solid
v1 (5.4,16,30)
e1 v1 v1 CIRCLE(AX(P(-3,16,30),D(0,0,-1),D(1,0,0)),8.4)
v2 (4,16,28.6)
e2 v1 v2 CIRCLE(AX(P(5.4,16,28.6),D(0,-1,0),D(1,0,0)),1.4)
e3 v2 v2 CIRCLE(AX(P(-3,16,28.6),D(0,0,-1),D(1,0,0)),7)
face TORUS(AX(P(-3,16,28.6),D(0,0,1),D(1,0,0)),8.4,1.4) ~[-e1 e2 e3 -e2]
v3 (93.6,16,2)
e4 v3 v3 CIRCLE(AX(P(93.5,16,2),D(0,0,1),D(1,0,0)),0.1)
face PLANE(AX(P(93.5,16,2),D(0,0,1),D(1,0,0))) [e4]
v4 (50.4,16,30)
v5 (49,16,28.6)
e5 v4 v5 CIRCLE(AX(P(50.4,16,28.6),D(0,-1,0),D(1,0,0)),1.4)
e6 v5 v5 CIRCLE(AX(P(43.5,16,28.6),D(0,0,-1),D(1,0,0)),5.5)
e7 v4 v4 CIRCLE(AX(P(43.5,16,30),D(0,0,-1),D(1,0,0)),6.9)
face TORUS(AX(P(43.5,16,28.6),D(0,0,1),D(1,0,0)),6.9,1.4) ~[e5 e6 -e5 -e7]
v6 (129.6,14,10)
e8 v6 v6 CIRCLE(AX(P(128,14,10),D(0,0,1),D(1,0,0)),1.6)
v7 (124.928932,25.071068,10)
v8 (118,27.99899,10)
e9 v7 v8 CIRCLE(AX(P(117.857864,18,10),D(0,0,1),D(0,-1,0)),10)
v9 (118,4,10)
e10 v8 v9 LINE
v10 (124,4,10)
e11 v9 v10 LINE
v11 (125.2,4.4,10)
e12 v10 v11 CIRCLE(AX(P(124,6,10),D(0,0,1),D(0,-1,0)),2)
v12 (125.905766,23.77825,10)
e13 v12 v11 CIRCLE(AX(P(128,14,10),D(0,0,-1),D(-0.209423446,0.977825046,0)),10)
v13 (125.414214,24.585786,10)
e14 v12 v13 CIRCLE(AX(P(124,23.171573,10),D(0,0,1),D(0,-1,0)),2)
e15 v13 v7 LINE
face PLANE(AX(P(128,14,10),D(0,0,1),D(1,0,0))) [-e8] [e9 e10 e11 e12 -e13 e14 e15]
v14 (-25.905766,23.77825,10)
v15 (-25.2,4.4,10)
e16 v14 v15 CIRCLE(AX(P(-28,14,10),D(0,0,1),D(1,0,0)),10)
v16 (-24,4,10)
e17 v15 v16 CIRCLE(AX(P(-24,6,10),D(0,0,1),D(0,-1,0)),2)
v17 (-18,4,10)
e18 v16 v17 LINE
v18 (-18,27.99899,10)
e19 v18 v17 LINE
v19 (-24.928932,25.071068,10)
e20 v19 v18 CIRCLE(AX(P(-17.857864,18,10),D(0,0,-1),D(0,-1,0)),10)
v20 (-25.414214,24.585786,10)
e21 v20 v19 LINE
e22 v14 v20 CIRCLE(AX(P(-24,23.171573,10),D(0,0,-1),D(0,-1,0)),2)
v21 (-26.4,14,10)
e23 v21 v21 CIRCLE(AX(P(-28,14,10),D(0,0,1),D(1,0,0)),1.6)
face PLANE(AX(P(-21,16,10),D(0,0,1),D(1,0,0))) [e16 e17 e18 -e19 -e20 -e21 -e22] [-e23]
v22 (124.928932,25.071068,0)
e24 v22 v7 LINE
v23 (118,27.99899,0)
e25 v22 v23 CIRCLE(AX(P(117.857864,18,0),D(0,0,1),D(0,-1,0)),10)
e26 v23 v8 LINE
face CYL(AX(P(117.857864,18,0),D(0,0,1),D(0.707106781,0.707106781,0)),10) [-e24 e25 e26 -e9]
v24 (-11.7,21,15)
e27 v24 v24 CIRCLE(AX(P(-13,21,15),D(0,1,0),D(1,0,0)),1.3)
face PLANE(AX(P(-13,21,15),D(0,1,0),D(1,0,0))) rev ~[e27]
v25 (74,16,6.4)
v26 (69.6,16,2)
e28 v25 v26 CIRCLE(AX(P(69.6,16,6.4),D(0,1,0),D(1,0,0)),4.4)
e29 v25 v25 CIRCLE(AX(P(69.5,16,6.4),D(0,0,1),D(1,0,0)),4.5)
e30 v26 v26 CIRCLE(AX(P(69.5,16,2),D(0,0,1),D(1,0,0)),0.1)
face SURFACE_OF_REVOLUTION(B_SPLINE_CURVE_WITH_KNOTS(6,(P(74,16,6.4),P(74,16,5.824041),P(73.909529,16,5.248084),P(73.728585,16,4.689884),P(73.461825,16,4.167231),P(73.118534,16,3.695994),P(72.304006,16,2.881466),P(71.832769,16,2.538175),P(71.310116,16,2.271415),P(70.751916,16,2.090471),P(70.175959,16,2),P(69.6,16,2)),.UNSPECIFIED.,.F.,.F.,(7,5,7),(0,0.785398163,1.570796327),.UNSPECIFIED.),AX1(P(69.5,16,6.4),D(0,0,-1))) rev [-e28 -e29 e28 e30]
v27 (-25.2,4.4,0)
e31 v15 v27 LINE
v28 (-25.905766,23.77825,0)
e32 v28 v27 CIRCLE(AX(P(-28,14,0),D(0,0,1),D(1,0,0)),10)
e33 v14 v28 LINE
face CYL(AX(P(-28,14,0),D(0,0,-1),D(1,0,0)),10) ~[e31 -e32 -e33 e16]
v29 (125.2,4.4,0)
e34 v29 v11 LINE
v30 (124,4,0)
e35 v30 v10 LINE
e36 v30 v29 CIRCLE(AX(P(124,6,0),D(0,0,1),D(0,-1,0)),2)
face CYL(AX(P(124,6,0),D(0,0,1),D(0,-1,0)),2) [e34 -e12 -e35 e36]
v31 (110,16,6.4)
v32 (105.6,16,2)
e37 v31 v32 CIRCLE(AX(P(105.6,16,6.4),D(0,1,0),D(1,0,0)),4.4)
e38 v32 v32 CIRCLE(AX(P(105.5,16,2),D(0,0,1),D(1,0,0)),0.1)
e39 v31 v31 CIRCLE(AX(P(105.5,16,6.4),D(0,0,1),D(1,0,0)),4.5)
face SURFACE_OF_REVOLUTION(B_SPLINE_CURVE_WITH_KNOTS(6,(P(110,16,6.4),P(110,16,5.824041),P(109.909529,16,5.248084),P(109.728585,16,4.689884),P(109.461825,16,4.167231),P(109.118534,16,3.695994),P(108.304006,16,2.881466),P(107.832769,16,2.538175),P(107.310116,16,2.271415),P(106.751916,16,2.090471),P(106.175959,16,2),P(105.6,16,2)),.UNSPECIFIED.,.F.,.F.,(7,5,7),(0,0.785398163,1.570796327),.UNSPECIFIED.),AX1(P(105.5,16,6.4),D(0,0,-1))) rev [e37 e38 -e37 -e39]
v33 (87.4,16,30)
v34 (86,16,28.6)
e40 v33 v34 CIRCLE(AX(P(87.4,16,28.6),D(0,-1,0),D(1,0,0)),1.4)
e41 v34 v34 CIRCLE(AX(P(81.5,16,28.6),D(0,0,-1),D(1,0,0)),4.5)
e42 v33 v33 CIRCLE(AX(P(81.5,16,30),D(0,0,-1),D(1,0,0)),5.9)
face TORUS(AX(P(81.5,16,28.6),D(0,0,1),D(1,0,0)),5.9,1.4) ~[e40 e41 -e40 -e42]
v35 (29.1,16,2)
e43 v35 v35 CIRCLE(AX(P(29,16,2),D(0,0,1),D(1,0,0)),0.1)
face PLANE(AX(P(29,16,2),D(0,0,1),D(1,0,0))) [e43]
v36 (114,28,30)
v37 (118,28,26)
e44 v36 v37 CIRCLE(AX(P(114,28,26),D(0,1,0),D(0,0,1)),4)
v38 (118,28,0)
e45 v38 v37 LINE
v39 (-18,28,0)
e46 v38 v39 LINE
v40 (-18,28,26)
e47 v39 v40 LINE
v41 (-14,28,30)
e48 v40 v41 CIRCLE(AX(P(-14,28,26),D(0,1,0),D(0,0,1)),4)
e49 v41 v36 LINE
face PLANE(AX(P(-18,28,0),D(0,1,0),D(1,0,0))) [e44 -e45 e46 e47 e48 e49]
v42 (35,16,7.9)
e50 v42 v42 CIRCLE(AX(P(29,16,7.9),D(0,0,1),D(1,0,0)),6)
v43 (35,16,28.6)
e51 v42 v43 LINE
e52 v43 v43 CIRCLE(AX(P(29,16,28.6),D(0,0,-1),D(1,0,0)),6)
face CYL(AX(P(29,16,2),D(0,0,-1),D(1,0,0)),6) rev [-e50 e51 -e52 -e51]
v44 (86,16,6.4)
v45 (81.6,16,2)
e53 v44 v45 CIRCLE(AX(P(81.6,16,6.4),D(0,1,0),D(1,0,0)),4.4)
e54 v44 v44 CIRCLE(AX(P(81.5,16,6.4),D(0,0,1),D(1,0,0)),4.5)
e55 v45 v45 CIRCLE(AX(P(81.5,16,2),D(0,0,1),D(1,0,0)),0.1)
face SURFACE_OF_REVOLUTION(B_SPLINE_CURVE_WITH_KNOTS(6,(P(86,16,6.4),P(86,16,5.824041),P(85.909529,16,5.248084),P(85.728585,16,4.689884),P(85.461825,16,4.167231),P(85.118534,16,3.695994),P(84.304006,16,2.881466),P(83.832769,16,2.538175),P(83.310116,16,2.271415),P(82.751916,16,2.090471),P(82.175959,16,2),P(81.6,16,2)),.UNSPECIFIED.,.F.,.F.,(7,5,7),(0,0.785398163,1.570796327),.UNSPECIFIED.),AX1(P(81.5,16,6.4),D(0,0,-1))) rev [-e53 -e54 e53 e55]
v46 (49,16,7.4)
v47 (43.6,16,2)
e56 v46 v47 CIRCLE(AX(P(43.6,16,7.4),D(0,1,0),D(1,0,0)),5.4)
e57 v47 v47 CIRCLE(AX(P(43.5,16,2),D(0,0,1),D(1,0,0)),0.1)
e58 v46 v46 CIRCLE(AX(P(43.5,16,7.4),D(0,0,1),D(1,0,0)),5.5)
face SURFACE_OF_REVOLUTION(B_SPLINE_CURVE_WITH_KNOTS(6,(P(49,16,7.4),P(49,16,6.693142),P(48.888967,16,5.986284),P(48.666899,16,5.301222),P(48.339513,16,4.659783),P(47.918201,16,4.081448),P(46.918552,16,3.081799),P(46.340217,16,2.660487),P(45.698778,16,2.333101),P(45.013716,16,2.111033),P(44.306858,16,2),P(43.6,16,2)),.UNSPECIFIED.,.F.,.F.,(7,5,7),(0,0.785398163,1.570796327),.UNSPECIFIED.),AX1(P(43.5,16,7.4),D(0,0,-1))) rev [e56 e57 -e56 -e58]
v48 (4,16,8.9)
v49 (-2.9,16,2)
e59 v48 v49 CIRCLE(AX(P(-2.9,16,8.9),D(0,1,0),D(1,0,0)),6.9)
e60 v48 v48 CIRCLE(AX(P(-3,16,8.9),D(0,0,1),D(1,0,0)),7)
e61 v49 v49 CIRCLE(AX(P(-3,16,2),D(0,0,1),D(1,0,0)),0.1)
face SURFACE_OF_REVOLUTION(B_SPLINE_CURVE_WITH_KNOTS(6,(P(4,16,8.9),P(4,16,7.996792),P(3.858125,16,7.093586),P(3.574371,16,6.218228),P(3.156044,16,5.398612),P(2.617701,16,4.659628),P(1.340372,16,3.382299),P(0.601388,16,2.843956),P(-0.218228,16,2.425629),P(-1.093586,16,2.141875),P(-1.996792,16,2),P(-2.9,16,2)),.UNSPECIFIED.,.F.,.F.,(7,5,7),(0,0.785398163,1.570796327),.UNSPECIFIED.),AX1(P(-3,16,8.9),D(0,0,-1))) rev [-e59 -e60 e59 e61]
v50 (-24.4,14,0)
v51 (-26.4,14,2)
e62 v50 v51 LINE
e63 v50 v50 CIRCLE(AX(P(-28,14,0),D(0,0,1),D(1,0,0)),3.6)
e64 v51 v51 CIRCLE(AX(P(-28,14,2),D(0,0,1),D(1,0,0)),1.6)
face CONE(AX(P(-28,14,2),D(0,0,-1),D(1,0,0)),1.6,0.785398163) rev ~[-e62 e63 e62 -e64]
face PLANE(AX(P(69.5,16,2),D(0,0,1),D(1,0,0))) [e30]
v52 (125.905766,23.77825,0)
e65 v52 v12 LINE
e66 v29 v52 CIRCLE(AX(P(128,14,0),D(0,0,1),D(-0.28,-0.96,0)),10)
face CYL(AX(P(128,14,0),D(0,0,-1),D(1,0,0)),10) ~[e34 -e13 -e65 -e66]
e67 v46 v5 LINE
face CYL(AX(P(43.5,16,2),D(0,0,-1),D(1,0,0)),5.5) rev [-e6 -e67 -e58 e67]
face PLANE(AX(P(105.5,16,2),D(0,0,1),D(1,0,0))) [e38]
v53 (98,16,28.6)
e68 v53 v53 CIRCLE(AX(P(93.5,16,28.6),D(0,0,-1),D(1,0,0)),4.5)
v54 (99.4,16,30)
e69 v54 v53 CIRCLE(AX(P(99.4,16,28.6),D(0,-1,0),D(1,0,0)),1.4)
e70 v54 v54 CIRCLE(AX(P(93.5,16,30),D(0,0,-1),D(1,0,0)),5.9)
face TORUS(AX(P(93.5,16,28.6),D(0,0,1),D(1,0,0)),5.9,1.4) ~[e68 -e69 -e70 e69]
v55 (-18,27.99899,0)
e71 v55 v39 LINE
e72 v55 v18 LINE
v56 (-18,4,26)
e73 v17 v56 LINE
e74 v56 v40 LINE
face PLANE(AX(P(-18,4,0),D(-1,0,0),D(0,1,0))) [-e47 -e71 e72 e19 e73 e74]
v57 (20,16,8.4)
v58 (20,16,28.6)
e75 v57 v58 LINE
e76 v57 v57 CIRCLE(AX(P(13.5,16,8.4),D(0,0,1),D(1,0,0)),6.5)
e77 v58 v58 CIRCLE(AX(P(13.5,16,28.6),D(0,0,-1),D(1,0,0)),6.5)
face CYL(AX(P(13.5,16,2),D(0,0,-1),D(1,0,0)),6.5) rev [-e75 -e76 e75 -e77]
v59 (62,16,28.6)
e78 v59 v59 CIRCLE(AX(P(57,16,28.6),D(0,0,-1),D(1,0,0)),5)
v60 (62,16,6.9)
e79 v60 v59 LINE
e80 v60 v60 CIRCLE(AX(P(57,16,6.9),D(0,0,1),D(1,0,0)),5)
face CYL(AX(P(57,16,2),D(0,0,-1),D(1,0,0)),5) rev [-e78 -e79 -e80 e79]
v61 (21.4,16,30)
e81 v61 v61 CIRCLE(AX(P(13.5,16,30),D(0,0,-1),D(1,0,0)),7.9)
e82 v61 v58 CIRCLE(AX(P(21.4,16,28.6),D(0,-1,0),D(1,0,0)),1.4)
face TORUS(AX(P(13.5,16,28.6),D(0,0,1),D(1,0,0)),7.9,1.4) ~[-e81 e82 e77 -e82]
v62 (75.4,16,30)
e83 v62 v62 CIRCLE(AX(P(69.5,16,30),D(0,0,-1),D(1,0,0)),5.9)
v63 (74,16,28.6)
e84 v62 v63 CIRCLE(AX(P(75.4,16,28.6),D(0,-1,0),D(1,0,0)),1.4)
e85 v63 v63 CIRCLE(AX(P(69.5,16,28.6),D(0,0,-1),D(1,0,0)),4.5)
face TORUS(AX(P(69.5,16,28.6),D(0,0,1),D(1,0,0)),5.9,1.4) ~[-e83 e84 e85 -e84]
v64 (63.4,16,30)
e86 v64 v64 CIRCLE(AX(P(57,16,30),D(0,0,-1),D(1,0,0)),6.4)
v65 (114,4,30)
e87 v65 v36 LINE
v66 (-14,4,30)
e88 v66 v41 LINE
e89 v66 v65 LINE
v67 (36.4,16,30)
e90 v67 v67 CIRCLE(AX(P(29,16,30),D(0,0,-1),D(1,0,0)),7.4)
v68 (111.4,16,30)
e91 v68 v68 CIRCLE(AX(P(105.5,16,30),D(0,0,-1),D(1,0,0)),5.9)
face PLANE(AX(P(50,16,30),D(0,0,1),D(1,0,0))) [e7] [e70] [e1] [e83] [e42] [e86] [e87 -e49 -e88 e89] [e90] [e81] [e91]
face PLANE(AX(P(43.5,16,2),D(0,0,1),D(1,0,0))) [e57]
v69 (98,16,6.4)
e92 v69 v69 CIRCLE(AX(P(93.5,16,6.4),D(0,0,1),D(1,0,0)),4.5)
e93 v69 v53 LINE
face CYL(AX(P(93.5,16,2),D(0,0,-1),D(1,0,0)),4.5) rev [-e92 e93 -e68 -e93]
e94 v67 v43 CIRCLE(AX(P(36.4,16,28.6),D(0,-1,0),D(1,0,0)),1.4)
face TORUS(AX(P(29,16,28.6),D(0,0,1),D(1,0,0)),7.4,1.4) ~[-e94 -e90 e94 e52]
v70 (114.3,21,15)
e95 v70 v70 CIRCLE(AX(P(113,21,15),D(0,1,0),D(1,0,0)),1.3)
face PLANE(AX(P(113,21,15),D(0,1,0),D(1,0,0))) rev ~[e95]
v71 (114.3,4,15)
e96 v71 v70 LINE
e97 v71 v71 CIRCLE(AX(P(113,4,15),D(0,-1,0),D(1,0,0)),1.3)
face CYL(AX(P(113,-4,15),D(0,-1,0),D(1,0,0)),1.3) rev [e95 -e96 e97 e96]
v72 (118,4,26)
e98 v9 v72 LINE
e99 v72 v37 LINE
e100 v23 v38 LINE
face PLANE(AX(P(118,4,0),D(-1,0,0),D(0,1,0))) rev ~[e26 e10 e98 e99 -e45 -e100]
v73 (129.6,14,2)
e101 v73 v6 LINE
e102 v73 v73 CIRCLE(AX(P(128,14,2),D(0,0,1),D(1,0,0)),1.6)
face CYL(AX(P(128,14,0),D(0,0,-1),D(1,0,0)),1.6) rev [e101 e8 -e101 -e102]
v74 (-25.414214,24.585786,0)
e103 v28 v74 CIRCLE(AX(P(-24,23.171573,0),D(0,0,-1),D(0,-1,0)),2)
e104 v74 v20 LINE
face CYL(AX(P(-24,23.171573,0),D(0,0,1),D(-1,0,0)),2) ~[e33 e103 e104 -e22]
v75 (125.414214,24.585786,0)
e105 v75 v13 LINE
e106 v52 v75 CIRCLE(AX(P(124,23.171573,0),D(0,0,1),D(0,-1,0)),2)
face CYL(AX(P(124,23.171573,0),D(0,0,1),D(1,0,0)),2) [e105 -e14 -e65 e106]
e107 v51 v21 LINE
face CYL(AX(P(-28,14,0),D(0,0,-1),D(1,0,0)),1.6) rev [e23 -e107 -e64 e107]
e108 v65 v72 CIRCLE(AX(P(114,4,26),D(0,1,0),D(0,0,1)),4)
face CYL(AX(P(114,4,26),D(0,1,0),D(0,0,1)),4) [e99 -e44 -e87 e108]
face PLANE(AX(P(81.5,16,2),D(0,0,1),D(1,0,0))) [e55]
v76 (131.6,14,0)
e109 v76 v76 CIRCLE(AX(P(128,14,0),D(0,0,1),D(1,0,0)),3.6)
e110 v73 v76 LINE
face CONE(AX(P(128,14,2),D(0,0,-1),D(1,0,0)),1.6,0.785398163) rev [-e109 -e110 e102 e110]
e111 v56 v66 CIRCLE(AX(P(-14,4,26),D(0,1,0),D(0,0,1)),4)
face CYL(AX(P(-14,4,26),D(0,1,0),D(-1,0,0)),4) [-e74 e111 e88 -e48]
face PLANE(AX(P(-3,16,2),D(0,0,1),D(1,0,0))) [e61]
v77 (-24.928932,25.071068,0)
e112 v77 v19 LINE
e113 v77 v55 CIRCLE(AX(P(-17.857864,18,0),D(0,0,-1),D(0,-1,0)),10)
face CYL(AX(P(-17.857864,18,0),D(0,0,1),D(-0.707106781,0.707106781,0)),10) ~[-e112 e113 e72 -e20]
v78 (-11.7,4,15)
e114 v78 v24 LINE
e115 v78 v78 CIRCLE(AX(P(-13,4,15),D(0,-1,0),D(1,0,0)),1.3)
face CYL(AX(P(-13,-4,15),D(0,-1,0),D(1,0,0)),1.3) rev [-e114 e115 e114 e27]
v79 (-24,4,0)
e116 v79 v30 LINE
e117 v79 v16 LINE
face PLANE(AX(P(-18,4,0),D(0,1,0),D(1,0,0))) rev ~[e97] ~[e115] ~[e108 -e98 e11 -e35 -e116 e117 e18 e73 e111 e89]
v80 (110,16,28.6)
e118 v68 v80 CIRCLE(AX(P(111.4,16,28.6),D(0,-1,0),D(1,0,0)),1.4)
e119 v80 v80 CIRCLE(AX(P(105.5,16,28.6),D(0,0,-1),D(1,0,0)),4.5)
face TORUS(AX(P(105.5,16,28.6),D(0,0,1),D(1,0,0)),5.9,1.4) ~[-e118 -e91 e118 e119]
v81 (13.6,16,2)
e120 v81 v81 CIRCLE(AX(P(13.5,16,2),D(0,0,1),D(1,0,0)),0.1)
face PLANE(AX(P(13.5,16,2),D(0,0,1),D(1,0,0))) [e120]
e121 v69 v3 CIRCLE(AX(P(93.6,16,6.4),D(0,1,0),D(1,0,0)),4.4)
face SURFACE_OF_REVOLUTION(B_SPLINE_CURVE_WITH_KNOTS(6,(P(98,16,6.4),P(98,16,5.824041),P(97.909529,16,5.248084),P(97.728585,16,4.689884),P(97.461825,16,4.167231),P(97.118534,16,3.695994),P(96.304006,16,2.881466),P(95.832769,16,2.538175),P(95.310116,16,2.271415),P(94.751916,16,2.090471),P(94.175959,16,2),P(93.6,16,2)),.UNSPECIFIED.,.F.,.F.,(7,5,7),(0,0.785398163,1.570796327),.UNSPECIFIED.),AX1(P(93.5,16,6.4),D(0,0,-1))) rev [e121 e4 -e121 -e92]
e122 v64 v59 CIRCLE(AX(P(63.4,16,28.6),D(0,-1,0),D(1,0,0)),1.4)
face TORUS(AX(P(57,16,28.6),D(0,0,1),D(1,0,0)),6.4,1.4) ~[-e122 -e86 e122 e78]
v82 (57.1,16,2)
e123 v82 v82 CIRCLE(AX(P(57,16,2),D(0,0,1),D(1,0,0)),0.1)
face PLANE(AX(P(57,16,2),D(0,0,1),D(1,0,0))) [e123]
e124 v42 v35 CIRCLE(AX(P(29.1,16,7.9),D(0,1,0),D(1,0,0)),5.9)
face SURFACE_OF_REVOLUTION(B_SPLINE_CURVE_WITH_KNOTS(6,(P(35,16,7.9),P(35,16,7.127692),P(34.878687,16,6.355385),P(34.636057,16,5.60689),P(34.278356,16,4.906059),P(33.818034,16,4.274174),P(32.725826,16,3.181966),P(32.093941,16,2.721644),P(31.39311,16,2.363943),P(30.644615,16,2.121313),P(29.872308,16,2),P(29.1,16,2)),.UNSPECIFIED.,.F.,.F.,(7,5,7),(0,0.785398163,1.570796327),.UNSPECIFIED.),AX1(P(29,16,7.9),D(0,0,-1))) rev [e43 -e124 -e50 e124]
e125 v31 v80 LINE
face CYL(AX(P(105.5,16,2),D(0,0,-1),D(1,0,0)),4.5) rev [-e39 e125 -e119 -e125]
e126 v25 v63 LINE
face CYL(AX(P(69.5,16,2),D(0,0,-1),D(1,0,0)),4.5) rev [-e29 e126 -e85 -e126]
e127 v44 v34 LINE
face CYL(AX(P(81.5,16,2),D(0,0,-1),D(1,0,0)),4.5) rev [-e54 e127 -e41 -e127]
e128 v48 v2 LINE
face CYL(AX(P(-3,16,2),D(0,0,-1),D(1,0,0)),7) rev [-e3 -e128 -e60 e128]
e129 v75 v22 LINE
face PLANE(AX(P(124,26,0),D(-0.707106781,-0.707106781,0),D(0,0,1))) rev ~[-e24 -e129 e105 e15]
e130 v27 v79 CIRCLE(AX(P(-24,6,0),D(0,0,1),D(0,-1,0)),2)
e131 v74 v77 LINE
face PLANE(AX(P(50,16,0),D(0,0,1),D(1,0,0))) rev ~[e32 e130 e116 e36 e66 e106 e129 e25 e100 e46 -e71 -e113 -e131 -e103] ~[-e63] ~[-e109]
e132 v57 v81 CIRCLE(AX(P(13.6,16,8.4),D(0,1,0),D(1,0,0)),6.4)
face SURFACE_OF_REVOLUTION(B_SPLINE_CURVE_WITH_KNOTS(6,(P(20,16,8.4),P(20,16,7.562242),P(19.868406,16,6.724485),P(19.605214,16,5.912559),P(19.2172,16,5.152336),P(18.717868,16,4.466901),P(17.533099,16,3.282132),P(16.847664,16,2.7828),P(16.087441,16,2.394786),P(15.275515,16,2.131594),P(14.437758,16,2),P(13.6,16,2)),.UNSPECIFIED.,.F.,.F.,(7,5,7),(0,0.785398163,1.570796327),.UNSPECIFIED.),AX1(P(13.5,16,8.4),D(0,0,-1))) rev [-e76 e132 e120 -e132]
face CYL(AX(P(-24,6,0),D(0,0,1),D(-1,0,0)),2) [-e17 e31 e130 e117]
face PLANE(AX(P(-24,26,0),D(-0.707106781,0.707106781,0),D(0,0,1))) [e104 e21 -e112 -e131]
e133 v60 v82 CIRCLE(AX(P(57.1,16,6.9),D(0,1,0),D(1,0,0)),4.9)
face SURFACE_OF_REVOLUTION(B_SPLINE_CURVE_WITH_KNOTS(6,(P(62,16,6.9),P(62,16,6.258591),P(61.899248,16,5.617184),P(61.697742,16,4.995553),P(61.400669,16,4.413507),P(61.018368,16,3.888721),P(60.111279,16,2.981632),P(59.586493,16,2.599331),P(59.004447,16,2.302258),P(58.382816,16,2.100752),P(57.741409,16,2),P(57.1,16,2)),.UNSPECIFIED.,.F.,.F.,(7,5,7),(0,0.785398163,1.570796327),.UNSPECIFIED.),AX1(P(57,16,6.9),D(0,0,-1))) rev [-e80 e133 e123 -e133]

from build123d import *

# Parameters (mm, degrees)
CYLINDER018_R     = 1.3
CYLINDER018_DEPTH = 25
CYLINDER017_R     = 1.3
CYLINDER017_DEPTH = 25
CYLINDER007_R     = 6.5
CYLINDER007_DEPTH = 30
FILLET008_R       = 6.4
CYLINDER008_R     = 6
CYLINDER008_DEPTH = 30
FILLET009_R       = 5.9
CYLINDER009_R     = 5.5
CYLINDER009_DEPTH = 30
FILLET010_R       = 5.4
CYLINDER010_R     = 5
CYLINDER010_DEPTH = 30
FILLET011_R       = 4.9
CYLINDER011_R     = 4.5
CYLINDER011_DEPTH = 30
FILLET012_R       = 4.4
CYLINDER012_R     = 4.5
CYLINDER012_DEPTH = 30
FILLET013_R       = 4.4
CYLINDER013_R     = 4.5
CYLINDER013_DEPTH = 30
FILLET014_R       = 4.4
CYLINDER014_R     = 4.5
CYLINDER014_DEPTH = 30
FILLET015_R       = 4.4
CYLINDER006_R     = 7
CYLINDER006_DEPTH = 30
FILLET007_R       = 6.9
BOX005_W          = 136
BOX005_H          = 24
BOX005_DEPTH      = 30
FILLET030_R       = 4
FILLET031_R       = 1.4
BOX003_W          = 10
BOX003_H          = 24
BOX003_DEPTH      = 10
FILLET024_R       = 2
CHAMFER002_SIZE   = 4
FILLET025_R       = 2
FILLET026_R       = 10
BOX004_W          = 10
BOX004_H          = 24
BOX004_DEPTH      = 10
FILLET027_R       = 2
CHAMFER003_SIZE   = 4
FILLET028_R       = 2
FILLET029_R       = 10
TUBE003_R         = 10
TUBE003_R_2       = 1.6
TUBE003_DEPTH     = 10
TUBE002_R         = 10
TUBE002_R_2       = 1.6
TUBE002_DEPTH     = 10
CHAMFER011_SIZE   = 2


with BuildPart() as screwholle004:
    # Cylinder018 → Cylinder018 (new body)
    with BuildSketch(Plane(origin=(113, -20, 15), x_dir=(1, 0, 0), z_dir=(0, 1, 0))):
        Circle(CYLINDER018_R)
    extrude(amount=CYLINDER018_DEPTH)


with BuildPart() as fusion005:
    # Cylinder017 → Cylinder017 (new body)
    with BuildSketch(Plane(origin=(-13, -20, 15), x_dir=(1, 0, 0), z_dir=(0, 1, 0))):
        Circle(CYLINDER017_R)
    extrude(amount=CYLINDER017_DEPTH)

    # Fusion005: union ScrewHolle004
    add(screwholle004.part)


with BuildPart() as fillet008:
    # Cylinder007 → Cylinder007 (new body)
    with BuildSketch(Plane(origin=(13.5, 0, 2), x_dir=(1, 0, 0), z_dir=(0, 0, 1))):
        Circle(CYLINDER007_R)
    extrude(amount=CYLINDER007_DEPTH)

    # Fillet008
    fillet008_edges = [fillet008.edges().sort_by_distance(p)[0] for p in [
        (7, 0, 2),
    ]]
    fillet(fillet008_edges, radius=FILLET008_R)


with BuildPart() as fillet009:
    # Cylinder008 → Cylinder008 (new body)
    with BuildSketch(Plane(origin=(29, 0, 2), x_dir=(1, 0, 0), z_dir=(0, 0, 1))):
        Circle(CYLINDER008_R)
    extrude(amount=CYLINDER008_DEPTH)

    # Fillet009
    fillet009_edges = [fillet009.edges().sort_by_distance(p)[0] for p in [
        (23, 0, 2),
    ]]
    fillet(fillet009_edges, radius=FILLET009_R)


with BuildPart() as fillet010:
    # Cylinder009 → Cylinder009 (new body)
    with BuildSketch(Plane(origin=(43.5, 0, 2), x_dir=(1, 0, 0), z_dir=(0, 0, 1))):
        Circle(CYLINDER009_R)
    extrude(amount=CYLINDER009_DEPTH)

    # Fillet010
    fillet010_edges = [fillet010.edges().sort_by_distance(p)[0] for p in [
        (38, 0, 2),
    ]]
    fillet(fillet010_edges, radius=FILLET010_R)


with BuildPart() as fillet011:
    # Cylinder010 → Cylinder010 (new body)
    with BuildSketch(Plane(origin=(57, 0, 2), x_dir=(1, 0, 0), z_dir=(0, 0, 1))):
        Circle(CYLINDER010_R)
    extrude(amount=CYLINDER010_DEPTH)

    # Fillet011
    fillet011_edges = [fillet011.edges().sort_by_distance(p)[0] for p in [
        (52, 0, 2),
    ]]
    fillet(fillet011_edges, radius=FILLET011_R)


with BuildPart() as fillet012:
    # Cylinder011 → Cylinder011 (new body)
    with BuildSketch(Plane(origin=(69.5, 0, 2), x_dir=(1, 0, 0), z_dir=(0, 0, 1))):
        Circle(CYLINDER011_R)
    extrude(amount=CYLINDER011_DEPTH)

    # Fillet012
    fillet012_edges = [fillet012.edges().sort_by_distance(p)[0] for p in [
        (65, 0, 2),
    ]]
    fillet(fillet012_edges, radius=FILLET012_R)


with BuildPart() as fillet013:
    # Cylinder012 → Cylinder012 (new body)
    with BuildSketch(Plane(origin=(81.5, 0, 2), x_dir=(1, 0, 0), z_dir=(0, 0, 1))):
        Circle(CYLINDER012_R)
    extrude(amount=CYLINDER012_DEPTH)

    # Fillet013
    fillet013_edges = [fillet013.edges().sort_by_distance(p)[0] for p in [
        (77, 0, 2),
    ]]
    fillet(fillet013_edges, radius=FILLET013_R)


with BuildPart() as fillet014:
    # Cylinder013 → Cylinder013 (new body)
    with BuildSketch(Plane(origin=(93.5, 0, 2), x_dir=(1, 0, 0), z_dir=(0, 0, 1))):
        Circle(CYLINDER013_R)
    extrude(amount=CYLINDER013_DEPTH)

    # Fillet014
    fillet014_edges = [fillet014.edges().sort_by_distance(p)[0] for p in [
        (89, 0, 2),
    ]]
    fillet(fillet014_edges, radius=FILLET014_R)


with BuildPart() as fillet015:
    # Cylinder014 → Cylinder014 (new body)
    with BuildSketch(Plane(origin=(105.5, 0, 2), x_dir=(1, 0, 0), z_dir=(0, 0, 1))):
        Circle(CYLINDER014_R)
    extrude(amount=CYLINDER014_DEPTH)

    # Fillet015
    fillet015_edges = [fillet015.edges().sort_by_distance(p)[0] for p in [
        (101, 0, 2),
    ]]
    fillet(fillet015_edges, radius=FILLET015_R)


with BuildPart() as fusion007:
    # Cylinder006 → Cylinder006 (new body)
    with BuildSketch(Plane(origin=(-3, 0, 2), x_dir=(1, 0, 0), z_dir=(0, 0, 1))):
        Circle(CYLINDER006_R)
    extrude(amount=CYLINDER006_DEPTH)

    # Fillet007
    fillet007_edges = [fusion007.edges().sort_by_distance(p)[0] for p in [
        (-10, 0, 2),
    ]]
    fillet(fillet007_edges, radius=FILLET007_R)

    # Fusion001: union Fillet008, Fillet009, Fillet010, Fillet011, Fillet012, Fillet013, Fillet014, Fillet015
    add(fillet008.part)
    add(fillet009.part)
    add(fillet010.part)
    add(fillet011.part)
    add(fillet012.part)
    add(fillet013.part)
    add(fillet014.part)
    add(fillet015.part)

    # Fusion007: union Fusion005
    add(fusion005.part)


with BuildPart() as fillet031:
    # Box005 → Box005 (new body)
    with BuildSketch(Plane(origin=(-18, -12, 0), x_dir=(1, 0, 0), z_dir=(0, 0, 1))):
        with Locations((68, 12)):
            Rectangle(BOX005_W, BOX005_H)
    extrude(amount=BOX005_DEPTH)

    # Cut002: cut Fusion007
    add(fusion007.part, mode=Mode.SUBTRACT)

    # Fillet030
    fillet030_edges = [fillet031.edges().sort_by_distance(p)[0] for p in [
        (-18, 0, 30),
        (118, 0, 30),
    ]]
    fillet(fillet030_edges, radius=FILLET030_R)

    # Fillet031
    fillet031_edges = [fillet031.edges().sort_by_distance(p)[0] for p in [
        (-10, 0, 30),
        (7, 0, 30),
        (23, 0, 30),
        (38, 0, 30),
        (52, 0, 30),
        (65, 0, 30),
        (77, 0, 30),
        (89, 0, 30),
        (101, 0, 30),
    ]]
    fillet(fillet031_edges, radius=FILLET031_R)


with BuildPart() as fillet026:
    # Box003 → Box003 (new body)
    with BuildSketch(Plane(origin=(-26, -12, 0), x_dir=(1, 0, 0), z_dir=(0, 0, 1))):
        with Locations((5, 12)):
            Rectangle(BOX003_W, BOX003_H)
    extrude(amount=BOX003_DEPTH)

    # Fillet024
    fillet024_edges = [fillet026.edges().sort_by_distance(p)[0] for p in [
        (-26, -12, 5),
    ]]
    fillet(fillet024_edges, radius=FILLET024_R)

    # Chamfer002
    chamfer002_edges = [fillet026.edges().sort_by_distance(p)[0] for p in [
        (-26, 12, 5),
    ]]
    chamfer(chamfer002_edges, length=CHAMFER002_SIZE)

    # Fillet025
    fillet025_edges = [fillet026.edges().sort_by_distance(p)[0] for p in [
        (-26, 8, 5),
    ]]
    fillet(fillet025_edges, radius=FILLET025_R)

    # Fillet026
    fillet026_edges = [fillet026.edges().sort_by_distance(p)[0] for p in [
        (-22, 12, 5),
    ]]
    fillet(fillet026_edges, radius=FILLET026_R)


with BuildPart() as fillet029:
    # Box004 → Box004 (new body)
    with BuildSketch(Plane(origin=(116, -12, 0), x_dir=(1, 0, 0), z_dir=(0, 0, 1))):
        with Locations((5, 12)):
            Rectangle(BOX004_W, BOX004_H)
    extrude(amount=BOX004_DEPTH)

    # Fillet027
    fillet027_edges = [fillet029.edges().sort_by_distance(p)[0] for p in [
        (126, -12, 5),
    ]]
    fillet(fillet027_edges, radius=FILLET027_R)

    # Chamfer003
    chamfer003_edges = [fillet029.edges().sort_by_distance(p)[0] for p in [
        (126, 12, 5),
    ]]
    chamfer(chamfer003_edges, length=CHAMFER003_SIZE)

    # Fillet028
    fillet028_edges = [fillet029.edges().sort_by_distance(p)[0] for p in [
        (126, 8, 5),
    ]]
    fillet(fillet028_edges, radius=FILLET028_R)

    # Fillet029
    fillet029_edges = [fillet029.edges().sort_by_distance(p)[0] for p in [
        (122, 12, 5),
    ]]
    fillet(fillet029_edges, radius=FILLET029_R)


with BuildPart() as tube003:
    # Tube003 → Tube003 (new body)
    with BuildSketch(Plane(origin=(128, -2, 0), x_dir=(1, 0, 0), z_dir=(0, 0, 1))):
        Circle(TUBE003_R)
        Circle(TUBE003_R_2, mode=Mode.SUBTRACT)
    extrude(amount=TUBE003_DEPTH)


with BuildPart() as brushholles_s:
    # Tube002 → Tube002 (new body)
    with BuildSketch(Plane(origin=(-28, -2, 0), x_dir=(1, 0, 0), z_dir=(0, 0, 1))):
        Circle(TUBE002_R)
        Circle(TUBE002_R_2, mode=Mode.SUBTRACT)
    extrude(amount=TUBE002_DEPTH)

    # Fusion006: union Fillet026, Fillet029, Tube003
    add(fillet026.part)
    add(fillet029.part)
    add(tube003.part)

    # Chamfer011
    chamfer011_edges = [brushholles_s.edges().sort_by_distance(p)[0] for p in [
        (-29.6, -2, 0),
        (126.4, -2, 0),
    ]]
    chamfer(chamfer011_edges, length=CHAMFER011_SIZE)

    # Fusion018: union Fillet031
    add(fillet031.part)


with BuildPart() as brushholles_s_1:
    # Fusion018 placement: moved
    add(brushholles_s.part.moved(Location((0, 16, 0))))


solid = brushholles_s_1.part
